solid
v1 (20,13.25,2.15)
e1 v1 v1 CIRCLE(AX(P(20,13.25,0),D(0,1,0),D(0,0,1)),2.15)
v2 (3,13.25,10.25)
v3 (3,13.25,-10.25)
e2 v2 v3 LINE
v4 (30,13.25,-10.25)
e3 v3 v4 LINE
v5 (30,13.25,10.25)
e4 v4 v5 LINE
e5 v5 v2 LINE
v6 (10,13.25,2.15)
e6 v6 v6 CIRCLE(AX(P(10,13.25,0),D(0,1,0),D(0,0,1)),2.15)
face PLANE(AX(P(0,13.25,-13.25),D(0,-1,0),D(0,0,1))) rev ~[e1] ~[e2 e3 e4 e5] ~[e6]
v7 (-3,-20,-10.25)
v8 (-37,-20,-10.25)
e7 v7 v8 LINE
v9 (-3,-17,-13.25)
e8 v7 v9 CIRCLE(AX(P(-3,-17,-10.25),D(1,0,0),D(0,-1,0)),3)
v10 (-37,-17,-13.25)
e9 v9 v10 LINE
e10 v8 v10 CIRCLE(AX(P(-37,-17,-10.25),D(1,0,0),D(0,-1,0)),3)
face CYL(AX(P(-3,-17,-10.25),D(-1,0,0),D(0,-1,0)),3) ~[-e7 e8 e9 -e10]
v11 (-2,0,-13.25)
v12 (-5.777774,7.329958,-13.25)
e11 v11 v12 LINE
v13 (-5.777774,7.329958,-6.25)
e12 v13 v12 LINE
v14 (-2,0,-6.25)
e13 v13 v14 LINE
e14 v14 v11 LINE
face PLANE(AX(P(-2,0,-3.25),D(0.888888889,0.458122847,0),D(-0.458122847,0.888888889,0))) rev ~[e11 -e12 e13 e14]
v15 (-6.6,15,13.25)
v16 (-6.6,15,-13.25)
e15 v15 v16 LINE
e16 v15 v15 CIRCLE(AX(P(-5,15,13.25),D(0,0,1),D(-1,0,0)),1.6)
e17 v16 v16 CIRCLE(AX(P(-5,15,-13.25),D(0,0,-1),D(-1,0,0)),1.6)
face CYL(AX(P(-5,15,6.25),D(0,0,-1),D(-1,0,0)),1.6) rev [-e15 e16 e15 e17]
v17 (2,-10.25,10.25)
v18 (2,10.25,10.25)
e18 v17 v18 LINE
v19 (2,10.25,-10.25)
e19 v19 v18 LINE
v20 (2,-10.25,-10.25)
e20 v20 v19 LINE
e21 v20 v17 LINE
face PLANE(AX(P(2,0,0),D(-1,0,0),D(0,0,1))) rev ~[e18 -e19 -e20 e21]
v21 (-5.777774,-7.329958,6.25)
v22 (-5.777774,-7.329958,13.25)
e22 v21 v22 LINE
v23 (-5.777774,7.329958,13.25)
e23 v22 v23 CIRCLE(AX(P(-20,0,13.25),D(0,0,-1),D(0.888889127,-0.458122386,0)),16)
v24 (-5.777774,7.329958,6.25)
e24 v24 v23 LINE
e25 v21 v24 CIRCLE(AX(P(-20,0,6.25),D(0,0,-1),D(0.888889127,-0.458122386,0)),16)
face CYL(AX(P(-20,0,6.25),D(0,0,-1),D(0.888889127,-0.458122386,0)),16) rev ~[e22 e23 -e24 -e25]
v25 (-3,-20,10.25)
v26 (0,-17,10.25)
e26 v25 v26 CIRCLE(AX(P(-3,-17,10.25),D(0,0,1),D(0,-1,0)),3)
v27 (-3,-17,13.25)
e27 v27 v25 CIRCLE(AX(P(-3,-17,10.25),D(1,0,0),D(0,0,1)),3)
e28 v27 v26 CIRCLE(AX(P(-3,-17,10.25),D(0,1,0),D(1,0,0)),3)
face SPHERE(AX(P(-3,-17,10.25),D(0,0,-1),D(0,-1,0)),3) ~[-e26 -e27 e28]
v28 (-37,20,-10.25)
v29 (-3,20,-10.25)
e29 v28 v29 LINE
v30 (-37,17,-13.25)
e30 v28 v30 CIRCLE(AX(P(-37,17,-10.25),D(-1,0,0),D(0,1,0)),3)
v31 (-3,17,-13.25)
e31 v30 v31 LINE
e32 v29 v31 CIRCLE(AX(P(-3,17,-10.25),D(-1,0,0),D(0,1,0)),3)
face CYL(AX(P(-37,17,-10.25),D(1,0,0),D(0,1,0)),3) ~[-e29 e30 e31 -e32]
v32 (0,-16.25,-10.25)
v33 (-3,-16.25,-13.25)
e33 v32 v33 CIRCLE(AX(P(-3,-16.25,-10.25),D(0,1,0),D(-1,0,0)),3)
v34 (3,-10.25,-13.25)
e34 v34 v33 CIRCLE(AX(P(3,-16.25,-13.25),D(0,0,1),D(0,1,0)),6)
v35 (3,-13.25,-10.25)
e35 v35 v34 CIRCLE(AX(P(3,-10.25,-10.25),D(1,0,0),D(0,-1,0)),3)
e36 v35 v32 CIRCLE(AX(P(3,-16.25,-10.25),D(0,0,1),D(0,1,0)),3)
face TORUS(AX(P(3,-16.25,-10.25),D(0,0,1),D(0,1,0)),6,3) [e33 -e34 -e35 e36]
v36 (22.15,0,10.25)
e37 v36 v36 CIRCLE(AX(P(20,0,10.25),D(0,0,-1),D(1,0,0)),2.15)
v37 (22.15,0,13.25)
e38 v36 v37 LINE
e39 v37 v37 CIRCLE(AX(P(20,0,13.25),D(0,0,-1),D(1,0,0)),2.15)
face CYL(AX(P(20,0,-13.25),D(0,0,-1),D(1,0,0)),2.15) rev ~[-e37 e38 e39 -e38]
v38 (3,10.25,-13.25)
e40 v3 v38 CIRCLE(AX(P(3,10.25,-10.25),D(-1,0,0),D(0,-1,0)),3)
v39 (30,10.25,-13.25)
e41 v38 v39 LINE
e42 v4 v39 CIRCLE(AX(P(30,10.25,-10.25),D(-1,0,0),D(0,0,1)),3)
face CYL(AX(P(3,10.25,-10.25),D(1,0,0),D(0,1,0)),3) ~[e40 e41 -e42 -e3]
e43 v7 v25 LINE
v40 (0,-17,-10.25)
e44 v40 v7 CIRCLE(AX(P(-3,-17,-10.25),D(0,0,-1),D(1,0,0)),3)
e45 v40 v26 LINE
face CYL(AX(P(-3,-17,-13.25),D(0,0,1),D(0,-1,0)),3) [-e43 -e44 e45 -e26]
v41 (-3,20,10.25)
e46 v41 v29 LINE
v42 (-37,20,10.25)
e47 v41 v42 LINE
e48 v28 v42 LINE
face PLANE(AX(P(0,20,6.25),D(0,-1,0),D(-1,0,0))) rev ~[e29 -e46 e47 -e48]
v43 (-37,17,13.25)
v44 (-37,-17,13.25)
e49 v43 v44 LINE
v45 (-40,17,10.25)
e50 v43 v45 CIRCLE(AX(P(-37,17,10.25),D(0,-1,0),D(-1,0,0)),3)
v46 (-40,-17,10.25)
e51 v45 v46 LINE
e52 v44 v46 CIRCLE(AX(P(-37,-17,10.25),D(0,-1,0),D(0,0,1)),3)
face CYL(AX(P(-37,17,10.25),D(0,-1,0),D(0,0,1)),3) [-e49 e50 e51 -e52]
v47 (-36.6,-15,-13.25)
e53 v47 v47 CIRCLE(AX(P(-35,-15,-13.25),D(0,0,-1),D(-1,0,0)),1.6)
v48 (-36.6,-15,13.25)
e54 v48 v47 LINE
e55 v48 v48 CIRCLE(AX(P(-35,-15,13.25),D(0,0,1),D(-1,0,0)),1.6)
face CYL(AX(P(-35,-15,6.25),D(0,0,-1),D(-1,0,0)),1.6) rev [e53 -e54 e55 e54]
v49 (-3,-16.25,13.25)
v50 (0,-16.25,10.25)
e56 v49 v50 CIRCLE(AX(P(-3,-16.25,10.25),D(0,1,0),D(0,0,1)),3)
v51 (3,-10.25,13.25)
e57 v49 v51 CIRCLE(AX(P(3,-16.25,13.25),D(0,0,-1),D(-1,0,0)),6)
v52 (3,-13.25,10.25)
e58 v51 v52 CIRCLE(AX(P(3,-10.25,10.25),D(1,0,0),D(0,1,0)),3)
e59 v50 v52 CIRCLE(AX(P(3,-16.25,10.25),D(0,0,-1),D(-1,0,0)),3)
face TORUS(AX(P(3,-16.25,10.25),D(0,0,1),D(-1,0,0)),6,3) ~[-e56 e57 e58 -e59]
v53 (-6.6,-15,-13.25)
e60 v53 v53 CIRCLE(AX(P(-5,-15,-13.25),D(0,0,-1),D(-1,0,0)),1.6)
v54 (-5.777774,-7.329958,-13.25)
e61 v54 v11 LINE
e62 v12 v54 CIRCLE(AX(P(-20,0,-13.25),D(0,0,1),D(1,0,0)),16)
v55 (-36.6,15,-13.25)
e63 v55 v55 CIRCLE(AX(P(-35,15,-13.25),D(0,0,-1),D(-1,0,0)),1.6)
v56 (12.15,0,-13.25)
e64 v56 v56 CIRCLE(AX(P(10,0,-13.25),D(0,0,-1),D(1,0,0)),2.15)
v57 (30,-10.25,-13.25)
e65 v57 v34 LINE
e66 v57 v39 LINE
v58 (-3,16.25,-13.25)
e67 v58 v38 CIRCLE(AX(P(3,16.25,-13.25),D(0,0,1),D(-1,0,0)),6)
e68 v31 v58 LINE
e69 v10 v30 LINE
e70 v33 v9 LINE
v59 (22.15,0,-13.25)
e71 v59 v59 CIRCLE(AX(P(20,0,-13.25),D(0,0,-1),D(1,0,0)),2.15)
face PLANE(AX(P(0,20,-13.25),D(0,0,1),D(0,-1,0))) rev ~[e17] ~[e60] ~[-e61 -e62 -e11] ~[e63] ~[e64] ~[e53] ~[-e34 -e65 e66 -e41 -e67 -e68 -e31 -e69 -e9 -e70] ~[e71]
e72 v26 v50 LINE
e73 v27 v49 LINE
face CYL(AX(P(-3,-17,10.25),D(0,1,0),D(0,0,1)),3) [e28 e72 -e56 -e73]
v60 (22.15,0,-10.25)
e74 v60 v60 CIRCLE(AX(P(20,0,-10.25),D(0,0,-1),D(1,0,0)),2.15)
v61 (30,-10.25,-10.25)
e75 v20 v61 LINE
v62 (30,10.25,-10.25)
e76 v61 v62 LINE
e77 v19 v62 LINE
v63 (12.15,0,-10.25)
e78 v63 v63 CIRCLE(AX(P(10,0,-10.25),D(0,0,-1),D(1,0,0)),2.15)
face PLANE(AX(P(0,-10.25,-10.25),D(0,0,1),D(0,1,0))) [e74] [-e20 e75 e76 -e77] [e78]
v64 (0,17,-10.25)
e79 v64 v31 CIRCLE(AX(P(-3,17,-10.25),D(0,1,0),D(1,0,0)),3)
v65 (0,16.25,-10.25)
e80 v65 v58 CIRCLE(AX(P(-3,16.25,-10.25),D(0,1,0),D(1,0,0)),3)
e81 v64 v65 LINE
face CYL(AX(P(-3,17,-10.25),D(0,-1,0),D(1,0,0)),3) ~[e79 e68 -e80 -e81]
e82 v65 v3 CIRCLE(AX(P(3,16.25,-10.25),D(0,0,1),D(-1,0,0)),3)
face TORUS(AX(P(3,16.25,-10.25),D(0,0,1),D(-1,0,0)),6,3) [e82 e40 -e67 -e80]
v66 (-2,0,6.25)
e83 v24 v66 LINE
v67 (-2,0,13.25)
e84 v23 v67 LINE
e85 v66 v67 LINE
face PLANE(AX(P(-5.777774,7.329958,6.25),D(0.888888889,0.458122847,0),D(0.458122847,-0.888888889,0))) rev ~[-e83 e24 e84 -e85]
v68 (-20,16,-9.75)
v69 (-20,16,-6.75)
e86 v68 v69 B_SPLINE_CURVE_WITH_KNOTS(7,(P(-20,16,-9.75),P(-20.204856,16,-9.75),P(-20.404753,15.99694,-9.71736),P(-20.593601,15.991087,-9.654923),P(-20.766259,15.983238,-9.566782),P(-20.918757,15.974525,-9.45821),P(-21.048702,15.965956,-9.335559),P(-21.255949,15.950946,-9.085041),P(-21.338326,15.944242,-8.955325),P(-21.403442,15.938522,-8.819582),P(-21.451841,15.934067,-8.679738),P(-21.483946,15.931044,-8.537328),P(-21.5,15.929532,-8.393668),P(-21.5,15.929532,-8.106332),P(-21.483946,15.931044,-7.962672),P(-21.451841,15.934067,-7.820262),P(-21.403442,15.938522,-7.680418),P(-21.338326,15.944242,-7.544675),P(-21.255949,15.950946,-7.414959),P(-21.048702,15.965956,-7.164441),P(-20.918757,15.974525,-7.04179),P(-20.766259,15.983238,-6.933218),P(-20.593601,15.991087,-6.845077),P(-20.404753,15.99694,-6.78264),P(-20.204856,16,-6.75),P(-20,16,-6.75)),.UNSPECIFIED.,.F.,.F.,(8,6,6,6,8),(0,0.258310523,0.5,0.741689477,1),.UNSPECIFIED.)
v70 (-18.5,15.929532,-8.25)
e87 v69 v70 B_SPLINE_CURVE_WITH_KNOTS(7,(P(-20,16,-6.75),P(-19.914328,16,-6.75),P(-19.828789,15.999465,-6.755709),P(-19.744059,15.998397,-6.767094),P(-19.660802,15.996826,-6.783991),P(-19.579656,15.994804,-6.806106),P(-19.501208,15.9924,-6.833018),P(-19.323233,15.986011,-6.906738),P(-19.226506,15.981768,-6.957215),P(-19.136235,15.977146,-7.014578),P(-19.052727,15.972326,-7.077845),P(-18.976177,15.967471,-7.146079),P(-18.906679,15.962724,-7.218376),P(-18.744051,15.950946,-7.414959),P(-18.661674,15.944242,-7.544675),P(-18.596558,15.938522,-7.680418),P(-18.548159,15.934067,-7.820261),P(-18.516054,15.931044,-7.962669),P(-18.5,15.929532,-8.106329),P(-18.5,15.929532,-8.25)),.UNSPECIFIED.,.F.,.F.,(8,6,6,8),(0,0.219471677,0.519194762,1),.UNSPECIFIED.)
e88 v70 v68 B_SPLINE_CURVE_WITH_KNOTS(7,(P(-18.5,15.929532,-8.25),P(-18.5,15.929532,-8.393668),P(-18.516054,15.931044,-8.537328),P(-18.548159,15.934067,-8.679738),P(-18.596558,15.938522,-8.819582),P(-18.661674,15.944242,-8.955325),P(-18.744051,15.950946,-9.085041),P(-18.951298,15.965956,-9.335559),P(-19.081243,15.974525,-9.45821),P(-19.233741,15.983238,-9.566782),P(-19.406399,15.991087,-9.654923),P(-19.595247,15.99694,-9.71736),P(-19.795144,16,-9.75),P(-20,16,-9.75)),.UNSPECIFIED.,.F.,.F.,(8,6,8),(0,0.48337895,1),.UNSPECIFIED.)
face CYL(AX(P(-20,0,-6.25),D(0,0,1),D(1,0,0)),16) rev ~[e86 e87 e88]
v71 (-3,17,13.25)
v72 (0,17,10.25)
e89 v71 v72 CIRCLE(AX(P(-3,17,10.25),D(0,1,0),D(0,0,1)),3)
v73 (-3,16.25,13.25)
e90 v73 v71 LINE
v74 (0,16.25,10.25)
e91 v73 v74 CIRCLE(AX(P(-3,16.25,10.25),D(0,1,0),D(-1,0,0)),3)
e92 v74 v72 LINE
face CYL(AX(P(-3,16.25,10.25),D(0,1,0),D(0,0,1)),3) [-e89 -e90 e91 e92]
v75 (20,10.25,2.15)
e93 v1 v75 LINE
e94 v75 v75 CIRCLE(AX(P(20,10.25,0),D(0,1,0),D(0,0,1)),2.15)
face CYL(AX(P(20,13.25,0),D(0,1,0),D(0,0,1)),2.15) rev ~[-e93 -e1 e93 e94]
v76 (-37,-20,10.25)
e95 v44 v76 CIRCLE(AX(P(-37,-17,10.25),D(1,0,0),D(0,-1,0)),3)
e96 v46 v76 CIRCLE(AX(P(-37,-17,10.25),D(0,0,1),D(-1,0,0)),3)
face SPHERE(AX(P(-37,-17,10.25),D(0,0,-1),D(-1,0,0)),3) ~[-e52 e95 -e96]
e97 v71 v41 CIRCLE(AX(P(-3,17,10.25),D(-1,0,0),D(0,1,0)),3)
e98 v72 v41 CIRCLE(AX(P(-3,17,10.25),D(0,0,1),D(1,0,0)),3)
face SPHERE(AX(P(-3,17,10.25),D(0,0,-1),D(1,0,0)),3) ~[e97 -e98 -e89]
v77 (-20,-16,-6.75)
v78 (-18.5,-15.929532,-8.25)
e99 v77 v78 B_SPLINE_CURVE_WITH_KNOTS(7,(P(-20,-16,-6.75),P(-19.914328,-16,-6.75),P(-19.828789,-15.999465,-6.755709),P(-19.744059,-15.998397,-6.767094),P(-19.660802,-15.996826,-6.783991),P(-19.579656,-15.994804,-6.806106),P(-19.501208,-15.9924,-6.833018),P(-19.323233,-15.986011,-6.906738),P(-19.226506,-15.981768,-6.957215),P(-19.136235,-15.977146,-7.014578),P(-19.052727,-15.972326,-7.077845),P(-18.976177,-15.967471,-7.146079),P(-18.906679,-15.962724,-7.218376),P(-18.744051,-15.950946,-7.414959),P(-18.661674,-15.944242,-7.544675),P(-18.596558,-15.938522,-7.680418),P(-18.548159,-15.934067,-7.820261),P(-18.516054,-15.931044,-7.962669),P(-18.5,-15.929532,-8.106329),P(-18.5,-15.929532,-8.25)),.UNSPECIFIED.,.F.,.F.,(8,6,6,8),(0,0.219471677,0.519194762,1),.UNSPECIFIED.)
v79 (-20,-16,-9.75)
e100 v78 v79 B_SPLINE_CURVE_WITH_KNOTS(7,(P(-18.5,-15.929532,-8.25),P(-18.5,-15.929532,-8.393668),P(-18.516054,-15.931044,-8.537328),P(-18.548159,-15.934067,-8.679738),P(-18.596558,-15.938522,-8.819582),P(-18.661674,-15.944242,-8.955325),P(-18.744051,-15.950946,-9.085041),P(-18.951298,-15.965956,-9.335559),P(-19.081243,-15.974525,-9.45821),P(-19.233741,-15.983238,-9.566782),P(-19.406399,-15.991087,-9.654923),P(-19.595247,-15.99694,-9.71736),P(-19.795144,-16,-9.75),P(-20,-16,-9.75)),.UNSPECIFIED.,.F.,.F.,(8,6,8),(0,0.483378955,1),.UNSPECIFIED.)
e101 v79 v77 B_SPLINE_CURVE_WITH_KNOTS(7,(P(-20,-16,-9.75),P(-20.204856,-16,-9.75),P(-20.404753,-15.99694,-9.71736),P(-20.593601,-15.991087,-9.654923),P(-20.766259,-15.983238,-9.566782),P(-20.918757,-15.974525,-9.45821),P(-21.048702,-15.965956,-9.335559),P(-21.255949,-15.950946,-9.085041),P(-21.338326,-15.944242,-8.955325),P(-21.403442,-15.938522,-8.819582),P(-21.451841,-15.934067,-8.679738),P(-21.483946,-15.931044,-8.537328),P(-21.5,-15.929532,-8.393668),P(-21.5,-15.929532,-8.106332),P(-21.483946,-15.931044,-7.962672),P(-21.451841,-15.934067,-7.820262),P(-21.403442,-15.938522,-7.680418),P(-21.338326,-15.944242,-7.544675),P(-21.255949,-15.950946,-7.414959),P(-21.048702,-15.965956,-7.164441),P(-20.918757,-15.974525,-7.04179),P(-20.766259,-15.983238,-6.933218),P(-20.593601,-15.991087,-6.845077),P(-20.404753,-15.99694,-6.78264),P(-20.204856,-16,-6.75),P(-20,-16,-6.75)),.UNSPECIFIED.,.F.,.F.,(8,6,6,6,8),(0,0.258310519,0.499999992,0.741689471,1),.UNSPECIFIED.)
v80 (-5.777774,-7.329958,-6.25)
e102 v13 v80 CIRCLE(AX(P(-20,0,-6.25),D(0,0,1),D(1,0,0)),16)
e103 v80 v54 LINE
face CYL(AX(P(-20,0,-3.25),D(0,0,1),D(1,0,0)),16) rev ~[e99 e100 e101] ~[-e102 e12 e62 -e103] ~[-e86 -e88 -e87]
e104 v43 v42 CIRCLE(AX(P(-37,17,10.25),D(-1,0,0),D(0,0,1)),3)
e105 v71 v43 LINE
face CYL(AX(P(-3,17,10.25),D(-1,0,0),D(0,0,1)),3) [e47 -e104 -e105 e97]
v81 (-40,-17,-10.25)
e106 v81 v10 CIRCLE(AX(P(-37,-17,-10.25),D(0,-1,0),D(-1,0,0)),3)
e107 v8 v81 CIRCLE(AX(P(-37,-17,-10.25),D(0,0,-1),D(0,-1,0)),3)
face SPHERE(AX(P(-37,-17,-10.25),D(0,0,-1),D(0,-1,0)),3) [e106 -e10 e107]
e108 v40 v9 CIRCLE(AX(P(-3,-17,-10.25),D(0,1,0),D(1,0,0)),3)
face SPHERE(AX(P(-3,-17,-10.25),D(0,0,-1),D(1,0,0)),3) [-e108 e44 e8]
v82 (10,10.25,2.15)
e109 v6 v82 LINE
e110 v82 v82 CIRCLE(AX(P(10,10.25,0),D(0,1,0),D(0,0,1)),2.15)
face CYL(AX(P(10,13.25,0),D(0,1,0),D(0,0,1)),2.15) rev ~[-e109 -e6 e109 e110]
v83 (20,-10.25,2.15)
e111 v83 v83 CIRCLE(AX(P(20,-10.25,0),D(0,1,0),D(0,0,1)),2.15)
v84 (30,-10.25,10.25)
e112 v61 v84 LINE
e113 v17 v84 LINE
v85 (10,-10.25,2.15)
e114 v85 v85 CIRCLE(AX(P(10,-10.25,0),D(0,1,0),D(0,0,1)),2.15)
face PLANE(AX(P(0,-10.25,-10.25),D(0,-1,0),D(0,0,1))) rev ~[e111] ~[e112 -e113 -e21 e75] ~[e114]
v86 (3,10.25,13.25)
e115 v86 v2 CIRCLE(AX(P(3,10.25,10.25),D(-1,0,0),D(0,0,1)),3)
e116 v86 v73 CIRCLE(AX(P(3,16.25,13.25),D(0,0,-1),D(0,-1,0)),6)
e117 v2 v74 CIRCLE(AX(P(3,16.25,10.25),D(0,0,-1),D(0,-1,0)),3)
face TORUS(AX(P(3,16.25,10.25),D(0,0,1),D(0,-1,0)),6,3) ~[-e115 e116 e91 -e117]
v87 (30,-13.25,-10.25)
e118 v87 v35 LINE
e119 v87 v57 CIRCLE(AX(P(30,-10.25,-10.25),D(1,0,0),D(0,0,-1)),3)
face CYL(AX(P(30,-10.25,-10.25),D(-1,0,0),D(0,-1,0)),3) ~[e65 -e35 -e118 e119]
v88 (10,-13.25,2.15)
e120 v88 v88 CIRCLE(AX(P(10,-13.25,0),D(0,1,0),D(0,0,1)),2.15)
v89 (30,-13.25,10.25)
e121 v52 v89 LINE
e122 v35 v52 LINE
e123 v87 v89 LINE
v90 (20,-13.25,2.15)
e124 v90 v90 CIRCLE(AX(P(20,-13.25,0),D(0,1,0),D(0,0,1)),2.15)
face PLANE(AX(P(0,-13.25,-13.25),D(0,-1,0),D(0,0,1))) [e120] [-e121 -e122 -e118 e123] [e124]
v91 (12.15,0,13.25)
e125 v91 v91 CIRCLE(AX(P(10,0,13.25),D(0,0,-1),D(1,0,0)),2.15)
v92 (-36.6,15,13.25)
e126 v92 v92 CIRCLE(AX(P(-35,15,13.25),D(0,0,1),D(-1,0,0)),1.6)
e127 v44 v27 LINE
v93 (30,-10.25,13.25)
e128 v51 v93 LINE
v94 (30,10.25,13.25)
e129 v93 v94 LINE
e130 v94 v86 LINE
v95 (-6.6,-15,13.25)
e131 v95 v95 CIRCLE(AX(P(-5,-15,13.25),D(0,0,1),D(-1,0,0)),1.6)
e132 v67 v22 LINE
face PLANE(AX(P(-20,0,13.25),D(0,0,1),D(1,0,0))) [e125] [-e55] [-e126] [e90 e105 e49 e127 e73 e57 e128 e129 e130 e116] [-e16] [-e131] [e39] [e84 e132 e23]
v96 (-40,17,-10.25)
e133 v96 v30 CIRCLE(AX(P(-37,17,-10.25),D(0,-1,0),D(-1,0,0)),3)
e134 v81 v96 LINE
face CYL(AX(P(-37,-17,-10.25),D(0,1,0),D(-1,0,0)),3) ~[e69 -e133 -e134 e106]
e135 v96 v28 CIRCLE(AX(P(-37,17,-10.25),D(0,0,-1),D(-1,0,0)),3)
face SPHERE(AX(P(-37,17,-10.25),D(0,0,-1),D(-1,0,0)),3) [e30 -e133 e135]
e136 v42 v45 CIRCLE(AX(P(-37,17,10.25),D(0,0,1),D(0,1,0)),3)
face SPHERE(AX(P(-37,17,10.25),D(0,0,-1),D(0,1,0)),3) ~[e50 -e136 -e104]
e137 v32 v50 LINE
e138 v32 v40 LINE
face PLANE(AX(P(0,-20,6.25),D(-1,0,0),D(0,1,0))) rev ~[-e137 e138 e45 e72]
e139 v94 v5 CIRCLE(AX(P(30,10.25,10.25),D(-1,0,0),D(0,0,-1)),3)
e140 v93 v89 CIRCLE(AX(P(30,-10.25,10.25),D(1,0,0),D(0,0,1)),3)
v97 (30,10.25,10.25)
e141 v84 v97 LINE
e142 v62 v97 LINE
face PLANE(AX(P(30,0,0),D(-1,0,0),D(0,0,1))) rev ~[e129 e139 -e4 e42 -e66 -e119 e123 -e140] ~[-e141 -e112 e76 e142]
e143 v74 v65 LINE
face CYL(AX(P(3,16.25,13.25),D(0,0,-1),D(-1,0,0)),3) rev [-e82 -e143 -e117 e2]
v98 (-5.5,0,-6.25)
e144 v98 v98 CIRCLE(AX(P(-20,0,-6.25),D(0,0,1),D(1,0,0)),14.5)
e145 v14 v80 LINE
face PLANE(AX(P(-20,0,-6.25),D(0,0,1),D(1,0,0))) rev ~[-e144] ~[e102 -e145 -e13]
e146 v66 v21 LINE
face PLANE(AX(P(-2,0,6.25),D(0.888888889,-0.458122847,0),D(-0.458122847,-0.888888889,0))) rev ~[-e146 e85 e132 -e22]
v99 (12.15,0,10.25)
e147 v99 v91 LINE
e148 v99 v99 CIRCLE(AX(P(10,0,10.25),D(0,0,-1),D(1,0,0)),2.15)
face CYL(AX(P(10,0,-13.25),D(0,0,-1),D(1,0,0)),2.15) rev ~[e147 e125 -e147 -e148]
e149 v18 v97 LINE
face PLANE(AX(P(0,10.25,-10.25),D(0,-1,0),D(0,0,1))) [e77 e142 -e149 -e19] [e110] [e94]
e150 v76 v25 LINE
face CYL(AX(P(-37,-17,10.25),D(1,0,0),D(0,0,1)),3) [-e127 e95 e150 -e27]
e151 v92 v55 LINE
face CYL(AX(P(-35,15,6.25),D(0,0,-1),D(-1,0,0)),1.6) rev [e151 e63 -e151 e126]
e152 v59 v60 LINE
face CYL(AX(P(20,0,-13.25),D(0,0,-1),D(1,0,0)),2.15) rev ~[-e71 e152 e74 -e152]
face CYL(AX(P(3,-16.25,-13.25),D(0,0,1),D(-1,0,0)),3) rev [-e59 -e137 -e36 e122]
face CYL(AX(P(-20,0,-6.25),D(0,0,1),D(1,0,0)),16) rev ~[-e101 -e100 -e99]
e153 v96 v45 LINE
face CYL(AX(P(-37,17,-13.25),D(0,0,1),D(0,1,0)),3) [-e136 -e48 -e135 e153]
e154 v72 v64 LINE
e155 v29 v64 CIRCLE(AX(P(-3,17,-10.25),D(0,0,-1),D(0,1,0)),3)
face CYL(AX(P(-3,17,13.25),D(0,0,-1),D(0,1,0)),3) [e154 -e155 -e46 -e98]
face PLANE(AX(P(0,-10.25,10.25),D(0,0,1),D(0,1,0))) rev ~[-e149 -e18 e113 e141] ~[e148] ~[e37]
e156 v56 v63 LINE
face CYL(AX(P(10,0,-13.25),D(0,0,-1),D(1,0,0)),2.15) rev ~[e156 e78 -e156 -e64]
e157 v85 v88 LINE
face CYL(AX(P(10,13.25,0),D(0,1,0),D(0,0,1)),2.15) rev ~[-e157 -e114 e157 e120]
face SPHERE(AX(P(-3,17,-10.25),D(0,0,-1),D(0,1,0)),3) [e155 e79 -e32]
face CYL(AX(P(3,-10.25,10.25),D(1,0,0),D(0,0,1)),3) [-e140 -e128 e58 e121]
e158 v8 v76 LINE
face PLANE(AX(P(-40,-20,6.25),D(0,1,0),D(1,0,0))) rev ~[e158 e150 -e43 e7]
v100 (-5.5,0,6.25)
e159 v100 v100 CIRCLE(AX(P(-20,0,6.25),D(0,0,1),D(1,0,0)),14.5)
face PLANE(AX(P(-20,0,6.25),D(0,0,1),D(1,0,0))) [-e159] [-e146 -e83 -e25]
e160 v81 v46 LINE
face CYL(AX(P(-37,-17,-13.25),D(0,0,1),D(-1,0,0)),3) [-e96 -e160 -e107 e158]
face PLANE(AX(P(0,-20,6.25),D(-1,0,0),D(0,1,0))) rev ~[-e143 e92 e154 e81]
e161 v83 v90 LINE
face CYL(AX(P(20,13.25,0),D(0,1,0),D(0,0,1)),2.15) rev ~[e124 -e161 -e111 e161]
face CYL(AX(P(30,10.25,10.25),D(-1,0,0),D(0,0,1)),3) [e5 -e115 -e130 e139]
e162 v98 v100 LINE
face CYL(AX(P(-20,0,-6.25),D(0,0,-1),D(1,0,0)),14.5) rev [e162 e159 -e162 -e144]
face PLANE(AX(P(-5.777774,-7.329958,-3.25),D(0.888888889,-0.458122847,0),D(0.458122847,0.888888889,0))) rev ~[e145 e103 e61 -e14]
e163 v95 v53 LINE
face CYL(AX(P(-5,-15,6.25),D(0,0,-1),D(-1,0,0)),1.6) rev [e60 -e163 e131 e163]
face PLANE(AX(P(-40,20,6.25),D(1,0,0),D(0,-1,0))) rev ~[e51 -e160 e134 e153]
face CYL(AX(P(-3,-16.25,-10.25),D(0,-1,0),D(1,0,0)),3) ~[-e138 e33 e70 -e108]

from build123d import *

# Parameters (mm, degrees)
SKETCH_1_W           = 17.5
SKETCH_1_H           = 17.5
EXTRUDE_1_DEPTH      = 30
SKETCH_2_W           = 20.5
SKETCH_2_H           = 20.5
SKETCH_2_W_2         = 17.5
SKETCH_2_H_2         = 17.5
EXTRUDE_2_DEPTH      = 2
SKETCH_3_W           = 26.5
SKETCH_3_H           = 26.5
SKETCH_3_W_2         = 20.5
SKETCH_3_H_2         = 20.5
EXTRUDE_3_DEPTH      = 30
SKETCH_4_R           = 2.15
CUT_EXTRUDE_6_DEPTH  = 43.164113888
SKETCH_6_W           = 10
SKETCH_6_H           = 26.5
SKETCH_6_H_2         = 6.75
EXTRUDE_5_DEPTH      = 40
SKETCH_14_R          = 1.6
CUT_EXTRUDE_9_DEPTH  = 52.983170353
SKETCH_5_R           = 2.15
CUT_EXTRUDE_10_DEPTH = 52.983170353
SKETCH_15_W          = 17.5
SKETCH_15_H          = 17.5
CUT_EXTRUDE_12_DEPTH = 28
CUT_EXTRUDE_13_DEPTH = 28
CUT_EXTRUDE_14_DEPTH = 59.099591221
SKETCH_18_R          = 16
CUT_EXTRUDE_15_DEPTH = 10
CUT_EXTRUDE_16_DEPTH = 10
SKETCH_20_W          = 40.335449496
SKETCH_20_H          = 40
CUT_EXTRUDE_17_DEPTH = 3
EXTRUDE_START        = -40
SKETCH_21_R          = 1.5
EXTRUDE_6_DEPTH      = 40
SKETCH_22_R          = 16
CUT_EXTRUDE_18_DEPTH = 40
SKETCH_24_W          = 40
SKETCH_24_H          = 40
SKETCH_24_R          = 1.6
SKETCH_24_R_2        = 14.5
EXTRUDE_7_DEPTH      = 12.5
SKETCH_25_R          = 1.6
EXTRUDE_8_DEPTH      = 7
FILLET_1_R           = 3
FILLET_2_R           = 3
FILLET_3_R           = 3
FILLET_4_R           = 3
FILLET_5_R           = 3
FILLET_6_R           = 3
FILLET_7_R           = 3
FILLET_8_R           = 3


with BuildPart() as part:
    # 草图1 → 凸台-拉伸1 (new body)
    with BuildSketch(Plane(origin=(0, 0, 0), x_dir=(0, 0, -1), z_dir=(1, 0, 0))):
        Rectangle(SKETCH_1_W, SKETCH_1_H)
    extrude(amount=EXTRUDE_1_DEPTH)

    # 草图2 → 凸台-拉伸2 (add)
    with BuildSketch(Plane.ZY):
        Rectangle(SKETCH_2_W, SKETCH_2_H)
        Rectangle(SKETCH_2_W_2, SKETCH_2_H_2, mode=Mode.SUBTRACT)
    extrude(amount=-EXTRUDE_2_DEPTH)

    # 草图3 → 凸台-拉伸3 (add)
    with BuildSketch(Plane.ZY):
        Rectangle(SKETCH_3_W, SKETCH_3_H)
        Rectangle(SKETCH_3_W_2, SKETCH_3_H_2, mode=Mode.SUBTRACT)
    extrude(amount=-EXTRUDE_3_DEPTH)

    # 草图4 → 切除-拉伸6 (cut, through all)
    with BuildSketch(Plane(origin=(0, 13.25, 0), x_dir=(1, 0, 0), z_dir=(0, 1, 0))):
        with Locations(Location((10, 0, 0), (0, 0, 270))):
            Circle(SKETCH_4_R)
        with Locations(Location((20, 0, 0), (0, 0, 270))):
            Circle(SKETCH_4_R)
    extrude(amount=-CUT_EXTRUDE_6_DEPTH, mode=Mode.SUBTRACT)

    # 草图6 → 凸台-拉伸5 (add)
    with BuildSketch(Plane.ZY):
        with Locations((-8.25, 0)):
            Rectangle(SKETCH_6_W, SKETCH_6_H)
        with Locations((-8.25, 16.625)):
            Rectangle(SKETCH_6_W, SKETCH_6_H_2)
        with Locations((-8.25, -16.625)):
            Rectangle(SKETCH_6_W, SKETCH_6_H_2)
    extrude(amount=EXTRUDE_5_DEPTH)

    # 草图14 → 切除-拉伸9 (cut, through all)
    with BuildSketch(Plane(origin=(0, 0, -13.25), x_dir=(-1, 0, 0), z_dir=(0, 0, -1))):
        with BuildLine():
            ThreePointArc((20, 15), (5, 0), (20, -15))
            Line((20, -15), (20, 15))
        make_face()
        with BuildLine():
            Line((20, 15), (20, -15))
            ThreePointArc((20, -15), (30.606601718, -10.606601718), (35, 0))
            ThreePointArc((35, 0), (30.606601718, 10.606601718), (20, 15))
        make_face()
        with Locations((5, -15)):
            Circle(SKETCH_14_R)
        with Locations((35, -15)):
            Circle(SKETCH_14_R)
        with Locations((35, 15)):
            Circle(SKETCH_14_R)
        with Locations((5, 15)):
            Circle(SKETCH_14_R)
    extrude(amount=-CUT_EXTRUDE_9_DEPTH, mode=Mode.SUBTRACT)

    # 草图5 → 切除-拉伸10 (cut, through all)
    with BuildSketch(Plane(origin=(0, 0, -13.25), x_dir=(-1, 0, 0), z_dir=(0, 0, -1))):
        with Locations(Location((-20, 0, 0), (0, 0, 180))):
            Circle(SKETCH_5_R)
        with Locations(Location((-10, 0, 0), (0, 0, 180))):
            Circle(SKETCH_5_R)
    extrude(amount=-CUT_EXTRUDE_10_DEPTH, mode=Mode.SUBTRACT)

    # 草图15 → 切除-拉伸12 (cut)
    with BuildSketch(Plane(origin=(30, 0, 0), x_dir=(0, 0, -1), z_dir=(1, 0, 0))):
        Rectangle(SKETCH_15_W, SKETCH_15_H)
    extrude(amount=-CUT_EXTRUDE_12_DEPTH, mode=Mode.SUBTRACT)

    # 草图16 → 切除-拉伸13 (cut)
    with BuildSketch(Plane.XY.offset(-3.25)):
        Polygon((-3, 0), (-6.796133828, 7.117437609), (-6.764657472, -7.058732759), align=None)
    extrude(amount=-CUT_EXTRUDE_13_DEPTH, mode=Mode.SUBTRACT)

    # 草图17 → 切除-拉伸14 (cut, through all)
    with BuildSketch(Plane(origin=(0, 20, 0), x_dir=(1, 0, 0), z_dir=(0, 1, 0))):
        with BuildLine():
            ThreePointArc((-18.5, 8.25), (-18.939339828, 9.310660172), (-20, 9.75))
            Line((-20, 9.75), (-20, 6.75))
            ThreePointArc((-20, 6.75), (-18.939339828, 7.189339828), (-18.5, 8.25))
        make_face()
        with BuildLine():
            Line((-20, 6.75), (-20, 9.75))
            ThreePointArc((-20, 9.75), (-21.5, 8.25), (-20, 6.75))
        make_face()
    extrude(amount=-CUT_EXTRUDE_14_DEPTH, mode=Mode.SUBTRACT)

    # 草图18 → 切除-拉伸15 (cut)
    with BuildSketch(Plane.XY.offset(-3.25)):
        with Locations((-20, 0)):
            Circle(SKETCH_18_R)
    extrude(amount=-CUT_EXTRUDE_15_DEPTH, mode=Mode.SUBTRACT)

    # 草图19 → 切除-拉伸16 (cut)
    with BuildSketch(Plane.XY.offset(-3.25)):
        with BuildLine():
            Line((-4.144564342, 2.145963672), (-3, 0))
            Line((-3, 0), (-2, 0))
            Line((-2, 0), (-5.777773972, 7.329958172))
            ThreePointArc((-5.777773972, 7.329958172), (-4.73943373, 4.807818333), (-4.144564342, 2.145963672))
        make_face()
        with BuildLine():
            Line((-2, 0), (-3, 0))
            Line((-3, 0), (-4.144581476, -2.146090268))
            ThreePointArc((-4.144581476, -2.146090268), (-4.739452924, -4.807879256), (-5.777773972, -7.329958172))
            Line((-5.777773972, -7.329958172), (-2, 0))
        make_face()
    extrude(amount=-CUT_EXTRUDE_16_DEPTH, mode=Mode.SUBTRACT)

    # 草图20 → 切除-拉伸17 (cut)
    with BuildSketch(Plane.XY.offset(-3.25)):
        with Locations((-20.167724748, 0)):
            Rectangle(SKETCH_20_W, SKETCH_20_H)
    extrude(amount=-CUT_EXTRUDE_17_DEPTH, mode=Mode.SUBTRACT)

    # 草图21 → 凸台-拉伸6 (add)
    with BuildSketch(Plane.XZ.offset(20).offset(EXTRUDE_START)):
        with Locations(Location((-20, -8.25, 0), (0, 0, 90))):
            Circle(SKETCH_21_R)
    extrude(amount=EXTRUDE_6_DEPTH)

    # 草图22 → 切除-拉伸18 (cut)
    with BuildSketch(Plane.XY.offset(-6.25)):
        with Locations((-20, 0)):
            Circle(SKETCH_22_R)
    extrude(amount=-CUT_EXTRUDE_18_DEPTH, mode=Mode.SUBTRACT)

    # 草图24 → 凸台-拉伸7 (add)
    with BuildSketch(Plane.XY.offset(-6.25)):
        with Locations((-20, 0)):
            Rectangle(SKETCH_24_W, SKETCH_24_H)
        with Locations(Location((-35, 15, 0), (0, 0, 180))):
            Circle(SKETCH_24_R, mode=Mode.SUBTRACT)
        with Locations(Location((-35, -15, 0), (0, 0, 180))):
            Circle(SKETCH_24_R, mode=Mode.SUBTRACT)
        with Locations(Location((-5, -15, 0), (0, 0, 180))):
            Circle(SKETCH_24_R, mode=Mode.SUBTRACT)
        with Locations(Location((-5, 15, 0), (0, 0, 180))):
            Circle(SKETCH_24_R, mode=Mode.SUBTRACT)
        with Locations((-20, 0)):
            Circle(SKETCH_24_R_2, mode=Mode.SUBTRACT)
    extrude(amount=EXTRUDE_7_DEPTH)

    # 草图25 → 凸台-拉伸8 (add)
    with BuildSketch(Plane.XY.offset(6.25)):
        Polygon((0, 20), (-40, 20), (-40, -20), (0, -20), (0, -13.25), (0, 13.25), align=None)
        with Locations(Location((-35, -15, 0), (0, 0, 180))):
            Circle(SKETCH_25_R, mode=Mode.SUBTRACT)
        with Locations(Location((-5, -15, 0), (0, 0, 180))):
            Circle(SKETCH_25_R, mode=Mode.SUBTRACT)
        with Locations(Location((-35, 15, 0), (0, 0, 180))):
            Circle(SKETCH_25_R, mode=Mode.SUBTRACT)
        with BuildLine():
            Line((-5.777773972, 7.329958172), (-2, 0))
            Line((-2, 0), (-5.777773972, -7.329958172))
            ThreePointArc((-5.777773972, -7.329958172), (-36, 0), (-5.777773972, 7.329958172))
        make_face(mode=Mode.SUBTRACT)
        with Locations(Location((-5, 15, 0), (0, 0, 180))):
            Circle(SKETCH_25_R, mode=Mode.SUBTRACT)
    extrude(amount=EXTRUDE_8_DEPTH)

    # 圆角1
    fillet_1_edges = [part.edges().sort_by_distance(p)[0] for p in [
        (0, 20, 0),
    ]]
    fillet(fillet_1_edges, radius=FILLET_1_R)

    # 圆角2
    fillet_2_edges = [part.edges().sort_by_distance(p)[0] for p in [
        (0, 13.25, 0),
    ]]
    fillet(fillet_2_edges, radius=FILLET_2_R)

    # 圆角3
    fillet_3_edges = [part.edges().sort_by_distance(p)[0] for p in [
        (-40, 20, 0),
    ]]
    fillet(fillet_3_edges, radius=FILLET_3_R)

    # 圆角4
    fillet_4_edges = [part.edges().sort_by_distance(p)[0] for p in [
        (-40, -20, 0),
    ]]
    fillet(fillet_4_edges, radius=FILLET_4_R)

    # 圆角5
    fillet_5_edges = [part.edges().sort_by_distance(p)[0] for p in [
        (0, -20, 0),
    ]]
    fillet(fillet_5_edges, radius=FILLET_5_R)

    # 圆角6
    fillet_6_edges = [part.edges().sort_by_distance(p)[0] for p in [
        (0, -13.25, 0),
    ]]
    fillet(fillet_6_edges, radius=FILLET_6_R)

    # 圆角7
    fillet_7_edges = [part.edges().sort_by_distance(p)[0] for p in [
        (0, 16.625, -13.25),
        (-0.878679656, 19.121320344, -13.25),
        (0.878679656, 14.128679656, -13.25),
        (-40, 0, -13.25),
        (-20, 20, -13.25),
        (16.5, -13.25, -13.25),
        (-39.121320344, 19.121320344, -13.25),
        (16.5, 13.25, -13.25),
        (-20, -20, -13.25),
        (-39.121320344, -19.121320344, -13.25),
        (-0.878679656, -19.121320344, -13.25),
        (0, -16.625, -13.25),
        (0.878679656, -14.128679656, -13.25),
    ]]
    fillet(fillet_7_edges, radius=FILLET_7_R)

    # 圆角8
    fillet_8_edges = [part.edges().sort_by_distance(p)[0] for p in [
        (-20, 20, 13.25),
        (-0.878679656, 19.121320344, 13.25),
        (0, 16.625, 13.25),
        (0.878679656, 14.128679656, 13.25),
        (16.5, -13.25, 13.25),
        (-40, 0, 13.25),
        (-39.121320344, 19.121320344, 13.25),
        (16.5, 13.25, 13.25),
        (-20, -20, 13.25),
        (-39.121320344, -19.121320344, 13.25),
        (0, -16.625, 13.25),
        (-0.878679656, -19.121320344, 13.25),
        (0.878679656, -14.128679656, 13.25),
    ]]
    fillet(fillet_8_edges, radius=FILLET_8_R)


solid = part.part
